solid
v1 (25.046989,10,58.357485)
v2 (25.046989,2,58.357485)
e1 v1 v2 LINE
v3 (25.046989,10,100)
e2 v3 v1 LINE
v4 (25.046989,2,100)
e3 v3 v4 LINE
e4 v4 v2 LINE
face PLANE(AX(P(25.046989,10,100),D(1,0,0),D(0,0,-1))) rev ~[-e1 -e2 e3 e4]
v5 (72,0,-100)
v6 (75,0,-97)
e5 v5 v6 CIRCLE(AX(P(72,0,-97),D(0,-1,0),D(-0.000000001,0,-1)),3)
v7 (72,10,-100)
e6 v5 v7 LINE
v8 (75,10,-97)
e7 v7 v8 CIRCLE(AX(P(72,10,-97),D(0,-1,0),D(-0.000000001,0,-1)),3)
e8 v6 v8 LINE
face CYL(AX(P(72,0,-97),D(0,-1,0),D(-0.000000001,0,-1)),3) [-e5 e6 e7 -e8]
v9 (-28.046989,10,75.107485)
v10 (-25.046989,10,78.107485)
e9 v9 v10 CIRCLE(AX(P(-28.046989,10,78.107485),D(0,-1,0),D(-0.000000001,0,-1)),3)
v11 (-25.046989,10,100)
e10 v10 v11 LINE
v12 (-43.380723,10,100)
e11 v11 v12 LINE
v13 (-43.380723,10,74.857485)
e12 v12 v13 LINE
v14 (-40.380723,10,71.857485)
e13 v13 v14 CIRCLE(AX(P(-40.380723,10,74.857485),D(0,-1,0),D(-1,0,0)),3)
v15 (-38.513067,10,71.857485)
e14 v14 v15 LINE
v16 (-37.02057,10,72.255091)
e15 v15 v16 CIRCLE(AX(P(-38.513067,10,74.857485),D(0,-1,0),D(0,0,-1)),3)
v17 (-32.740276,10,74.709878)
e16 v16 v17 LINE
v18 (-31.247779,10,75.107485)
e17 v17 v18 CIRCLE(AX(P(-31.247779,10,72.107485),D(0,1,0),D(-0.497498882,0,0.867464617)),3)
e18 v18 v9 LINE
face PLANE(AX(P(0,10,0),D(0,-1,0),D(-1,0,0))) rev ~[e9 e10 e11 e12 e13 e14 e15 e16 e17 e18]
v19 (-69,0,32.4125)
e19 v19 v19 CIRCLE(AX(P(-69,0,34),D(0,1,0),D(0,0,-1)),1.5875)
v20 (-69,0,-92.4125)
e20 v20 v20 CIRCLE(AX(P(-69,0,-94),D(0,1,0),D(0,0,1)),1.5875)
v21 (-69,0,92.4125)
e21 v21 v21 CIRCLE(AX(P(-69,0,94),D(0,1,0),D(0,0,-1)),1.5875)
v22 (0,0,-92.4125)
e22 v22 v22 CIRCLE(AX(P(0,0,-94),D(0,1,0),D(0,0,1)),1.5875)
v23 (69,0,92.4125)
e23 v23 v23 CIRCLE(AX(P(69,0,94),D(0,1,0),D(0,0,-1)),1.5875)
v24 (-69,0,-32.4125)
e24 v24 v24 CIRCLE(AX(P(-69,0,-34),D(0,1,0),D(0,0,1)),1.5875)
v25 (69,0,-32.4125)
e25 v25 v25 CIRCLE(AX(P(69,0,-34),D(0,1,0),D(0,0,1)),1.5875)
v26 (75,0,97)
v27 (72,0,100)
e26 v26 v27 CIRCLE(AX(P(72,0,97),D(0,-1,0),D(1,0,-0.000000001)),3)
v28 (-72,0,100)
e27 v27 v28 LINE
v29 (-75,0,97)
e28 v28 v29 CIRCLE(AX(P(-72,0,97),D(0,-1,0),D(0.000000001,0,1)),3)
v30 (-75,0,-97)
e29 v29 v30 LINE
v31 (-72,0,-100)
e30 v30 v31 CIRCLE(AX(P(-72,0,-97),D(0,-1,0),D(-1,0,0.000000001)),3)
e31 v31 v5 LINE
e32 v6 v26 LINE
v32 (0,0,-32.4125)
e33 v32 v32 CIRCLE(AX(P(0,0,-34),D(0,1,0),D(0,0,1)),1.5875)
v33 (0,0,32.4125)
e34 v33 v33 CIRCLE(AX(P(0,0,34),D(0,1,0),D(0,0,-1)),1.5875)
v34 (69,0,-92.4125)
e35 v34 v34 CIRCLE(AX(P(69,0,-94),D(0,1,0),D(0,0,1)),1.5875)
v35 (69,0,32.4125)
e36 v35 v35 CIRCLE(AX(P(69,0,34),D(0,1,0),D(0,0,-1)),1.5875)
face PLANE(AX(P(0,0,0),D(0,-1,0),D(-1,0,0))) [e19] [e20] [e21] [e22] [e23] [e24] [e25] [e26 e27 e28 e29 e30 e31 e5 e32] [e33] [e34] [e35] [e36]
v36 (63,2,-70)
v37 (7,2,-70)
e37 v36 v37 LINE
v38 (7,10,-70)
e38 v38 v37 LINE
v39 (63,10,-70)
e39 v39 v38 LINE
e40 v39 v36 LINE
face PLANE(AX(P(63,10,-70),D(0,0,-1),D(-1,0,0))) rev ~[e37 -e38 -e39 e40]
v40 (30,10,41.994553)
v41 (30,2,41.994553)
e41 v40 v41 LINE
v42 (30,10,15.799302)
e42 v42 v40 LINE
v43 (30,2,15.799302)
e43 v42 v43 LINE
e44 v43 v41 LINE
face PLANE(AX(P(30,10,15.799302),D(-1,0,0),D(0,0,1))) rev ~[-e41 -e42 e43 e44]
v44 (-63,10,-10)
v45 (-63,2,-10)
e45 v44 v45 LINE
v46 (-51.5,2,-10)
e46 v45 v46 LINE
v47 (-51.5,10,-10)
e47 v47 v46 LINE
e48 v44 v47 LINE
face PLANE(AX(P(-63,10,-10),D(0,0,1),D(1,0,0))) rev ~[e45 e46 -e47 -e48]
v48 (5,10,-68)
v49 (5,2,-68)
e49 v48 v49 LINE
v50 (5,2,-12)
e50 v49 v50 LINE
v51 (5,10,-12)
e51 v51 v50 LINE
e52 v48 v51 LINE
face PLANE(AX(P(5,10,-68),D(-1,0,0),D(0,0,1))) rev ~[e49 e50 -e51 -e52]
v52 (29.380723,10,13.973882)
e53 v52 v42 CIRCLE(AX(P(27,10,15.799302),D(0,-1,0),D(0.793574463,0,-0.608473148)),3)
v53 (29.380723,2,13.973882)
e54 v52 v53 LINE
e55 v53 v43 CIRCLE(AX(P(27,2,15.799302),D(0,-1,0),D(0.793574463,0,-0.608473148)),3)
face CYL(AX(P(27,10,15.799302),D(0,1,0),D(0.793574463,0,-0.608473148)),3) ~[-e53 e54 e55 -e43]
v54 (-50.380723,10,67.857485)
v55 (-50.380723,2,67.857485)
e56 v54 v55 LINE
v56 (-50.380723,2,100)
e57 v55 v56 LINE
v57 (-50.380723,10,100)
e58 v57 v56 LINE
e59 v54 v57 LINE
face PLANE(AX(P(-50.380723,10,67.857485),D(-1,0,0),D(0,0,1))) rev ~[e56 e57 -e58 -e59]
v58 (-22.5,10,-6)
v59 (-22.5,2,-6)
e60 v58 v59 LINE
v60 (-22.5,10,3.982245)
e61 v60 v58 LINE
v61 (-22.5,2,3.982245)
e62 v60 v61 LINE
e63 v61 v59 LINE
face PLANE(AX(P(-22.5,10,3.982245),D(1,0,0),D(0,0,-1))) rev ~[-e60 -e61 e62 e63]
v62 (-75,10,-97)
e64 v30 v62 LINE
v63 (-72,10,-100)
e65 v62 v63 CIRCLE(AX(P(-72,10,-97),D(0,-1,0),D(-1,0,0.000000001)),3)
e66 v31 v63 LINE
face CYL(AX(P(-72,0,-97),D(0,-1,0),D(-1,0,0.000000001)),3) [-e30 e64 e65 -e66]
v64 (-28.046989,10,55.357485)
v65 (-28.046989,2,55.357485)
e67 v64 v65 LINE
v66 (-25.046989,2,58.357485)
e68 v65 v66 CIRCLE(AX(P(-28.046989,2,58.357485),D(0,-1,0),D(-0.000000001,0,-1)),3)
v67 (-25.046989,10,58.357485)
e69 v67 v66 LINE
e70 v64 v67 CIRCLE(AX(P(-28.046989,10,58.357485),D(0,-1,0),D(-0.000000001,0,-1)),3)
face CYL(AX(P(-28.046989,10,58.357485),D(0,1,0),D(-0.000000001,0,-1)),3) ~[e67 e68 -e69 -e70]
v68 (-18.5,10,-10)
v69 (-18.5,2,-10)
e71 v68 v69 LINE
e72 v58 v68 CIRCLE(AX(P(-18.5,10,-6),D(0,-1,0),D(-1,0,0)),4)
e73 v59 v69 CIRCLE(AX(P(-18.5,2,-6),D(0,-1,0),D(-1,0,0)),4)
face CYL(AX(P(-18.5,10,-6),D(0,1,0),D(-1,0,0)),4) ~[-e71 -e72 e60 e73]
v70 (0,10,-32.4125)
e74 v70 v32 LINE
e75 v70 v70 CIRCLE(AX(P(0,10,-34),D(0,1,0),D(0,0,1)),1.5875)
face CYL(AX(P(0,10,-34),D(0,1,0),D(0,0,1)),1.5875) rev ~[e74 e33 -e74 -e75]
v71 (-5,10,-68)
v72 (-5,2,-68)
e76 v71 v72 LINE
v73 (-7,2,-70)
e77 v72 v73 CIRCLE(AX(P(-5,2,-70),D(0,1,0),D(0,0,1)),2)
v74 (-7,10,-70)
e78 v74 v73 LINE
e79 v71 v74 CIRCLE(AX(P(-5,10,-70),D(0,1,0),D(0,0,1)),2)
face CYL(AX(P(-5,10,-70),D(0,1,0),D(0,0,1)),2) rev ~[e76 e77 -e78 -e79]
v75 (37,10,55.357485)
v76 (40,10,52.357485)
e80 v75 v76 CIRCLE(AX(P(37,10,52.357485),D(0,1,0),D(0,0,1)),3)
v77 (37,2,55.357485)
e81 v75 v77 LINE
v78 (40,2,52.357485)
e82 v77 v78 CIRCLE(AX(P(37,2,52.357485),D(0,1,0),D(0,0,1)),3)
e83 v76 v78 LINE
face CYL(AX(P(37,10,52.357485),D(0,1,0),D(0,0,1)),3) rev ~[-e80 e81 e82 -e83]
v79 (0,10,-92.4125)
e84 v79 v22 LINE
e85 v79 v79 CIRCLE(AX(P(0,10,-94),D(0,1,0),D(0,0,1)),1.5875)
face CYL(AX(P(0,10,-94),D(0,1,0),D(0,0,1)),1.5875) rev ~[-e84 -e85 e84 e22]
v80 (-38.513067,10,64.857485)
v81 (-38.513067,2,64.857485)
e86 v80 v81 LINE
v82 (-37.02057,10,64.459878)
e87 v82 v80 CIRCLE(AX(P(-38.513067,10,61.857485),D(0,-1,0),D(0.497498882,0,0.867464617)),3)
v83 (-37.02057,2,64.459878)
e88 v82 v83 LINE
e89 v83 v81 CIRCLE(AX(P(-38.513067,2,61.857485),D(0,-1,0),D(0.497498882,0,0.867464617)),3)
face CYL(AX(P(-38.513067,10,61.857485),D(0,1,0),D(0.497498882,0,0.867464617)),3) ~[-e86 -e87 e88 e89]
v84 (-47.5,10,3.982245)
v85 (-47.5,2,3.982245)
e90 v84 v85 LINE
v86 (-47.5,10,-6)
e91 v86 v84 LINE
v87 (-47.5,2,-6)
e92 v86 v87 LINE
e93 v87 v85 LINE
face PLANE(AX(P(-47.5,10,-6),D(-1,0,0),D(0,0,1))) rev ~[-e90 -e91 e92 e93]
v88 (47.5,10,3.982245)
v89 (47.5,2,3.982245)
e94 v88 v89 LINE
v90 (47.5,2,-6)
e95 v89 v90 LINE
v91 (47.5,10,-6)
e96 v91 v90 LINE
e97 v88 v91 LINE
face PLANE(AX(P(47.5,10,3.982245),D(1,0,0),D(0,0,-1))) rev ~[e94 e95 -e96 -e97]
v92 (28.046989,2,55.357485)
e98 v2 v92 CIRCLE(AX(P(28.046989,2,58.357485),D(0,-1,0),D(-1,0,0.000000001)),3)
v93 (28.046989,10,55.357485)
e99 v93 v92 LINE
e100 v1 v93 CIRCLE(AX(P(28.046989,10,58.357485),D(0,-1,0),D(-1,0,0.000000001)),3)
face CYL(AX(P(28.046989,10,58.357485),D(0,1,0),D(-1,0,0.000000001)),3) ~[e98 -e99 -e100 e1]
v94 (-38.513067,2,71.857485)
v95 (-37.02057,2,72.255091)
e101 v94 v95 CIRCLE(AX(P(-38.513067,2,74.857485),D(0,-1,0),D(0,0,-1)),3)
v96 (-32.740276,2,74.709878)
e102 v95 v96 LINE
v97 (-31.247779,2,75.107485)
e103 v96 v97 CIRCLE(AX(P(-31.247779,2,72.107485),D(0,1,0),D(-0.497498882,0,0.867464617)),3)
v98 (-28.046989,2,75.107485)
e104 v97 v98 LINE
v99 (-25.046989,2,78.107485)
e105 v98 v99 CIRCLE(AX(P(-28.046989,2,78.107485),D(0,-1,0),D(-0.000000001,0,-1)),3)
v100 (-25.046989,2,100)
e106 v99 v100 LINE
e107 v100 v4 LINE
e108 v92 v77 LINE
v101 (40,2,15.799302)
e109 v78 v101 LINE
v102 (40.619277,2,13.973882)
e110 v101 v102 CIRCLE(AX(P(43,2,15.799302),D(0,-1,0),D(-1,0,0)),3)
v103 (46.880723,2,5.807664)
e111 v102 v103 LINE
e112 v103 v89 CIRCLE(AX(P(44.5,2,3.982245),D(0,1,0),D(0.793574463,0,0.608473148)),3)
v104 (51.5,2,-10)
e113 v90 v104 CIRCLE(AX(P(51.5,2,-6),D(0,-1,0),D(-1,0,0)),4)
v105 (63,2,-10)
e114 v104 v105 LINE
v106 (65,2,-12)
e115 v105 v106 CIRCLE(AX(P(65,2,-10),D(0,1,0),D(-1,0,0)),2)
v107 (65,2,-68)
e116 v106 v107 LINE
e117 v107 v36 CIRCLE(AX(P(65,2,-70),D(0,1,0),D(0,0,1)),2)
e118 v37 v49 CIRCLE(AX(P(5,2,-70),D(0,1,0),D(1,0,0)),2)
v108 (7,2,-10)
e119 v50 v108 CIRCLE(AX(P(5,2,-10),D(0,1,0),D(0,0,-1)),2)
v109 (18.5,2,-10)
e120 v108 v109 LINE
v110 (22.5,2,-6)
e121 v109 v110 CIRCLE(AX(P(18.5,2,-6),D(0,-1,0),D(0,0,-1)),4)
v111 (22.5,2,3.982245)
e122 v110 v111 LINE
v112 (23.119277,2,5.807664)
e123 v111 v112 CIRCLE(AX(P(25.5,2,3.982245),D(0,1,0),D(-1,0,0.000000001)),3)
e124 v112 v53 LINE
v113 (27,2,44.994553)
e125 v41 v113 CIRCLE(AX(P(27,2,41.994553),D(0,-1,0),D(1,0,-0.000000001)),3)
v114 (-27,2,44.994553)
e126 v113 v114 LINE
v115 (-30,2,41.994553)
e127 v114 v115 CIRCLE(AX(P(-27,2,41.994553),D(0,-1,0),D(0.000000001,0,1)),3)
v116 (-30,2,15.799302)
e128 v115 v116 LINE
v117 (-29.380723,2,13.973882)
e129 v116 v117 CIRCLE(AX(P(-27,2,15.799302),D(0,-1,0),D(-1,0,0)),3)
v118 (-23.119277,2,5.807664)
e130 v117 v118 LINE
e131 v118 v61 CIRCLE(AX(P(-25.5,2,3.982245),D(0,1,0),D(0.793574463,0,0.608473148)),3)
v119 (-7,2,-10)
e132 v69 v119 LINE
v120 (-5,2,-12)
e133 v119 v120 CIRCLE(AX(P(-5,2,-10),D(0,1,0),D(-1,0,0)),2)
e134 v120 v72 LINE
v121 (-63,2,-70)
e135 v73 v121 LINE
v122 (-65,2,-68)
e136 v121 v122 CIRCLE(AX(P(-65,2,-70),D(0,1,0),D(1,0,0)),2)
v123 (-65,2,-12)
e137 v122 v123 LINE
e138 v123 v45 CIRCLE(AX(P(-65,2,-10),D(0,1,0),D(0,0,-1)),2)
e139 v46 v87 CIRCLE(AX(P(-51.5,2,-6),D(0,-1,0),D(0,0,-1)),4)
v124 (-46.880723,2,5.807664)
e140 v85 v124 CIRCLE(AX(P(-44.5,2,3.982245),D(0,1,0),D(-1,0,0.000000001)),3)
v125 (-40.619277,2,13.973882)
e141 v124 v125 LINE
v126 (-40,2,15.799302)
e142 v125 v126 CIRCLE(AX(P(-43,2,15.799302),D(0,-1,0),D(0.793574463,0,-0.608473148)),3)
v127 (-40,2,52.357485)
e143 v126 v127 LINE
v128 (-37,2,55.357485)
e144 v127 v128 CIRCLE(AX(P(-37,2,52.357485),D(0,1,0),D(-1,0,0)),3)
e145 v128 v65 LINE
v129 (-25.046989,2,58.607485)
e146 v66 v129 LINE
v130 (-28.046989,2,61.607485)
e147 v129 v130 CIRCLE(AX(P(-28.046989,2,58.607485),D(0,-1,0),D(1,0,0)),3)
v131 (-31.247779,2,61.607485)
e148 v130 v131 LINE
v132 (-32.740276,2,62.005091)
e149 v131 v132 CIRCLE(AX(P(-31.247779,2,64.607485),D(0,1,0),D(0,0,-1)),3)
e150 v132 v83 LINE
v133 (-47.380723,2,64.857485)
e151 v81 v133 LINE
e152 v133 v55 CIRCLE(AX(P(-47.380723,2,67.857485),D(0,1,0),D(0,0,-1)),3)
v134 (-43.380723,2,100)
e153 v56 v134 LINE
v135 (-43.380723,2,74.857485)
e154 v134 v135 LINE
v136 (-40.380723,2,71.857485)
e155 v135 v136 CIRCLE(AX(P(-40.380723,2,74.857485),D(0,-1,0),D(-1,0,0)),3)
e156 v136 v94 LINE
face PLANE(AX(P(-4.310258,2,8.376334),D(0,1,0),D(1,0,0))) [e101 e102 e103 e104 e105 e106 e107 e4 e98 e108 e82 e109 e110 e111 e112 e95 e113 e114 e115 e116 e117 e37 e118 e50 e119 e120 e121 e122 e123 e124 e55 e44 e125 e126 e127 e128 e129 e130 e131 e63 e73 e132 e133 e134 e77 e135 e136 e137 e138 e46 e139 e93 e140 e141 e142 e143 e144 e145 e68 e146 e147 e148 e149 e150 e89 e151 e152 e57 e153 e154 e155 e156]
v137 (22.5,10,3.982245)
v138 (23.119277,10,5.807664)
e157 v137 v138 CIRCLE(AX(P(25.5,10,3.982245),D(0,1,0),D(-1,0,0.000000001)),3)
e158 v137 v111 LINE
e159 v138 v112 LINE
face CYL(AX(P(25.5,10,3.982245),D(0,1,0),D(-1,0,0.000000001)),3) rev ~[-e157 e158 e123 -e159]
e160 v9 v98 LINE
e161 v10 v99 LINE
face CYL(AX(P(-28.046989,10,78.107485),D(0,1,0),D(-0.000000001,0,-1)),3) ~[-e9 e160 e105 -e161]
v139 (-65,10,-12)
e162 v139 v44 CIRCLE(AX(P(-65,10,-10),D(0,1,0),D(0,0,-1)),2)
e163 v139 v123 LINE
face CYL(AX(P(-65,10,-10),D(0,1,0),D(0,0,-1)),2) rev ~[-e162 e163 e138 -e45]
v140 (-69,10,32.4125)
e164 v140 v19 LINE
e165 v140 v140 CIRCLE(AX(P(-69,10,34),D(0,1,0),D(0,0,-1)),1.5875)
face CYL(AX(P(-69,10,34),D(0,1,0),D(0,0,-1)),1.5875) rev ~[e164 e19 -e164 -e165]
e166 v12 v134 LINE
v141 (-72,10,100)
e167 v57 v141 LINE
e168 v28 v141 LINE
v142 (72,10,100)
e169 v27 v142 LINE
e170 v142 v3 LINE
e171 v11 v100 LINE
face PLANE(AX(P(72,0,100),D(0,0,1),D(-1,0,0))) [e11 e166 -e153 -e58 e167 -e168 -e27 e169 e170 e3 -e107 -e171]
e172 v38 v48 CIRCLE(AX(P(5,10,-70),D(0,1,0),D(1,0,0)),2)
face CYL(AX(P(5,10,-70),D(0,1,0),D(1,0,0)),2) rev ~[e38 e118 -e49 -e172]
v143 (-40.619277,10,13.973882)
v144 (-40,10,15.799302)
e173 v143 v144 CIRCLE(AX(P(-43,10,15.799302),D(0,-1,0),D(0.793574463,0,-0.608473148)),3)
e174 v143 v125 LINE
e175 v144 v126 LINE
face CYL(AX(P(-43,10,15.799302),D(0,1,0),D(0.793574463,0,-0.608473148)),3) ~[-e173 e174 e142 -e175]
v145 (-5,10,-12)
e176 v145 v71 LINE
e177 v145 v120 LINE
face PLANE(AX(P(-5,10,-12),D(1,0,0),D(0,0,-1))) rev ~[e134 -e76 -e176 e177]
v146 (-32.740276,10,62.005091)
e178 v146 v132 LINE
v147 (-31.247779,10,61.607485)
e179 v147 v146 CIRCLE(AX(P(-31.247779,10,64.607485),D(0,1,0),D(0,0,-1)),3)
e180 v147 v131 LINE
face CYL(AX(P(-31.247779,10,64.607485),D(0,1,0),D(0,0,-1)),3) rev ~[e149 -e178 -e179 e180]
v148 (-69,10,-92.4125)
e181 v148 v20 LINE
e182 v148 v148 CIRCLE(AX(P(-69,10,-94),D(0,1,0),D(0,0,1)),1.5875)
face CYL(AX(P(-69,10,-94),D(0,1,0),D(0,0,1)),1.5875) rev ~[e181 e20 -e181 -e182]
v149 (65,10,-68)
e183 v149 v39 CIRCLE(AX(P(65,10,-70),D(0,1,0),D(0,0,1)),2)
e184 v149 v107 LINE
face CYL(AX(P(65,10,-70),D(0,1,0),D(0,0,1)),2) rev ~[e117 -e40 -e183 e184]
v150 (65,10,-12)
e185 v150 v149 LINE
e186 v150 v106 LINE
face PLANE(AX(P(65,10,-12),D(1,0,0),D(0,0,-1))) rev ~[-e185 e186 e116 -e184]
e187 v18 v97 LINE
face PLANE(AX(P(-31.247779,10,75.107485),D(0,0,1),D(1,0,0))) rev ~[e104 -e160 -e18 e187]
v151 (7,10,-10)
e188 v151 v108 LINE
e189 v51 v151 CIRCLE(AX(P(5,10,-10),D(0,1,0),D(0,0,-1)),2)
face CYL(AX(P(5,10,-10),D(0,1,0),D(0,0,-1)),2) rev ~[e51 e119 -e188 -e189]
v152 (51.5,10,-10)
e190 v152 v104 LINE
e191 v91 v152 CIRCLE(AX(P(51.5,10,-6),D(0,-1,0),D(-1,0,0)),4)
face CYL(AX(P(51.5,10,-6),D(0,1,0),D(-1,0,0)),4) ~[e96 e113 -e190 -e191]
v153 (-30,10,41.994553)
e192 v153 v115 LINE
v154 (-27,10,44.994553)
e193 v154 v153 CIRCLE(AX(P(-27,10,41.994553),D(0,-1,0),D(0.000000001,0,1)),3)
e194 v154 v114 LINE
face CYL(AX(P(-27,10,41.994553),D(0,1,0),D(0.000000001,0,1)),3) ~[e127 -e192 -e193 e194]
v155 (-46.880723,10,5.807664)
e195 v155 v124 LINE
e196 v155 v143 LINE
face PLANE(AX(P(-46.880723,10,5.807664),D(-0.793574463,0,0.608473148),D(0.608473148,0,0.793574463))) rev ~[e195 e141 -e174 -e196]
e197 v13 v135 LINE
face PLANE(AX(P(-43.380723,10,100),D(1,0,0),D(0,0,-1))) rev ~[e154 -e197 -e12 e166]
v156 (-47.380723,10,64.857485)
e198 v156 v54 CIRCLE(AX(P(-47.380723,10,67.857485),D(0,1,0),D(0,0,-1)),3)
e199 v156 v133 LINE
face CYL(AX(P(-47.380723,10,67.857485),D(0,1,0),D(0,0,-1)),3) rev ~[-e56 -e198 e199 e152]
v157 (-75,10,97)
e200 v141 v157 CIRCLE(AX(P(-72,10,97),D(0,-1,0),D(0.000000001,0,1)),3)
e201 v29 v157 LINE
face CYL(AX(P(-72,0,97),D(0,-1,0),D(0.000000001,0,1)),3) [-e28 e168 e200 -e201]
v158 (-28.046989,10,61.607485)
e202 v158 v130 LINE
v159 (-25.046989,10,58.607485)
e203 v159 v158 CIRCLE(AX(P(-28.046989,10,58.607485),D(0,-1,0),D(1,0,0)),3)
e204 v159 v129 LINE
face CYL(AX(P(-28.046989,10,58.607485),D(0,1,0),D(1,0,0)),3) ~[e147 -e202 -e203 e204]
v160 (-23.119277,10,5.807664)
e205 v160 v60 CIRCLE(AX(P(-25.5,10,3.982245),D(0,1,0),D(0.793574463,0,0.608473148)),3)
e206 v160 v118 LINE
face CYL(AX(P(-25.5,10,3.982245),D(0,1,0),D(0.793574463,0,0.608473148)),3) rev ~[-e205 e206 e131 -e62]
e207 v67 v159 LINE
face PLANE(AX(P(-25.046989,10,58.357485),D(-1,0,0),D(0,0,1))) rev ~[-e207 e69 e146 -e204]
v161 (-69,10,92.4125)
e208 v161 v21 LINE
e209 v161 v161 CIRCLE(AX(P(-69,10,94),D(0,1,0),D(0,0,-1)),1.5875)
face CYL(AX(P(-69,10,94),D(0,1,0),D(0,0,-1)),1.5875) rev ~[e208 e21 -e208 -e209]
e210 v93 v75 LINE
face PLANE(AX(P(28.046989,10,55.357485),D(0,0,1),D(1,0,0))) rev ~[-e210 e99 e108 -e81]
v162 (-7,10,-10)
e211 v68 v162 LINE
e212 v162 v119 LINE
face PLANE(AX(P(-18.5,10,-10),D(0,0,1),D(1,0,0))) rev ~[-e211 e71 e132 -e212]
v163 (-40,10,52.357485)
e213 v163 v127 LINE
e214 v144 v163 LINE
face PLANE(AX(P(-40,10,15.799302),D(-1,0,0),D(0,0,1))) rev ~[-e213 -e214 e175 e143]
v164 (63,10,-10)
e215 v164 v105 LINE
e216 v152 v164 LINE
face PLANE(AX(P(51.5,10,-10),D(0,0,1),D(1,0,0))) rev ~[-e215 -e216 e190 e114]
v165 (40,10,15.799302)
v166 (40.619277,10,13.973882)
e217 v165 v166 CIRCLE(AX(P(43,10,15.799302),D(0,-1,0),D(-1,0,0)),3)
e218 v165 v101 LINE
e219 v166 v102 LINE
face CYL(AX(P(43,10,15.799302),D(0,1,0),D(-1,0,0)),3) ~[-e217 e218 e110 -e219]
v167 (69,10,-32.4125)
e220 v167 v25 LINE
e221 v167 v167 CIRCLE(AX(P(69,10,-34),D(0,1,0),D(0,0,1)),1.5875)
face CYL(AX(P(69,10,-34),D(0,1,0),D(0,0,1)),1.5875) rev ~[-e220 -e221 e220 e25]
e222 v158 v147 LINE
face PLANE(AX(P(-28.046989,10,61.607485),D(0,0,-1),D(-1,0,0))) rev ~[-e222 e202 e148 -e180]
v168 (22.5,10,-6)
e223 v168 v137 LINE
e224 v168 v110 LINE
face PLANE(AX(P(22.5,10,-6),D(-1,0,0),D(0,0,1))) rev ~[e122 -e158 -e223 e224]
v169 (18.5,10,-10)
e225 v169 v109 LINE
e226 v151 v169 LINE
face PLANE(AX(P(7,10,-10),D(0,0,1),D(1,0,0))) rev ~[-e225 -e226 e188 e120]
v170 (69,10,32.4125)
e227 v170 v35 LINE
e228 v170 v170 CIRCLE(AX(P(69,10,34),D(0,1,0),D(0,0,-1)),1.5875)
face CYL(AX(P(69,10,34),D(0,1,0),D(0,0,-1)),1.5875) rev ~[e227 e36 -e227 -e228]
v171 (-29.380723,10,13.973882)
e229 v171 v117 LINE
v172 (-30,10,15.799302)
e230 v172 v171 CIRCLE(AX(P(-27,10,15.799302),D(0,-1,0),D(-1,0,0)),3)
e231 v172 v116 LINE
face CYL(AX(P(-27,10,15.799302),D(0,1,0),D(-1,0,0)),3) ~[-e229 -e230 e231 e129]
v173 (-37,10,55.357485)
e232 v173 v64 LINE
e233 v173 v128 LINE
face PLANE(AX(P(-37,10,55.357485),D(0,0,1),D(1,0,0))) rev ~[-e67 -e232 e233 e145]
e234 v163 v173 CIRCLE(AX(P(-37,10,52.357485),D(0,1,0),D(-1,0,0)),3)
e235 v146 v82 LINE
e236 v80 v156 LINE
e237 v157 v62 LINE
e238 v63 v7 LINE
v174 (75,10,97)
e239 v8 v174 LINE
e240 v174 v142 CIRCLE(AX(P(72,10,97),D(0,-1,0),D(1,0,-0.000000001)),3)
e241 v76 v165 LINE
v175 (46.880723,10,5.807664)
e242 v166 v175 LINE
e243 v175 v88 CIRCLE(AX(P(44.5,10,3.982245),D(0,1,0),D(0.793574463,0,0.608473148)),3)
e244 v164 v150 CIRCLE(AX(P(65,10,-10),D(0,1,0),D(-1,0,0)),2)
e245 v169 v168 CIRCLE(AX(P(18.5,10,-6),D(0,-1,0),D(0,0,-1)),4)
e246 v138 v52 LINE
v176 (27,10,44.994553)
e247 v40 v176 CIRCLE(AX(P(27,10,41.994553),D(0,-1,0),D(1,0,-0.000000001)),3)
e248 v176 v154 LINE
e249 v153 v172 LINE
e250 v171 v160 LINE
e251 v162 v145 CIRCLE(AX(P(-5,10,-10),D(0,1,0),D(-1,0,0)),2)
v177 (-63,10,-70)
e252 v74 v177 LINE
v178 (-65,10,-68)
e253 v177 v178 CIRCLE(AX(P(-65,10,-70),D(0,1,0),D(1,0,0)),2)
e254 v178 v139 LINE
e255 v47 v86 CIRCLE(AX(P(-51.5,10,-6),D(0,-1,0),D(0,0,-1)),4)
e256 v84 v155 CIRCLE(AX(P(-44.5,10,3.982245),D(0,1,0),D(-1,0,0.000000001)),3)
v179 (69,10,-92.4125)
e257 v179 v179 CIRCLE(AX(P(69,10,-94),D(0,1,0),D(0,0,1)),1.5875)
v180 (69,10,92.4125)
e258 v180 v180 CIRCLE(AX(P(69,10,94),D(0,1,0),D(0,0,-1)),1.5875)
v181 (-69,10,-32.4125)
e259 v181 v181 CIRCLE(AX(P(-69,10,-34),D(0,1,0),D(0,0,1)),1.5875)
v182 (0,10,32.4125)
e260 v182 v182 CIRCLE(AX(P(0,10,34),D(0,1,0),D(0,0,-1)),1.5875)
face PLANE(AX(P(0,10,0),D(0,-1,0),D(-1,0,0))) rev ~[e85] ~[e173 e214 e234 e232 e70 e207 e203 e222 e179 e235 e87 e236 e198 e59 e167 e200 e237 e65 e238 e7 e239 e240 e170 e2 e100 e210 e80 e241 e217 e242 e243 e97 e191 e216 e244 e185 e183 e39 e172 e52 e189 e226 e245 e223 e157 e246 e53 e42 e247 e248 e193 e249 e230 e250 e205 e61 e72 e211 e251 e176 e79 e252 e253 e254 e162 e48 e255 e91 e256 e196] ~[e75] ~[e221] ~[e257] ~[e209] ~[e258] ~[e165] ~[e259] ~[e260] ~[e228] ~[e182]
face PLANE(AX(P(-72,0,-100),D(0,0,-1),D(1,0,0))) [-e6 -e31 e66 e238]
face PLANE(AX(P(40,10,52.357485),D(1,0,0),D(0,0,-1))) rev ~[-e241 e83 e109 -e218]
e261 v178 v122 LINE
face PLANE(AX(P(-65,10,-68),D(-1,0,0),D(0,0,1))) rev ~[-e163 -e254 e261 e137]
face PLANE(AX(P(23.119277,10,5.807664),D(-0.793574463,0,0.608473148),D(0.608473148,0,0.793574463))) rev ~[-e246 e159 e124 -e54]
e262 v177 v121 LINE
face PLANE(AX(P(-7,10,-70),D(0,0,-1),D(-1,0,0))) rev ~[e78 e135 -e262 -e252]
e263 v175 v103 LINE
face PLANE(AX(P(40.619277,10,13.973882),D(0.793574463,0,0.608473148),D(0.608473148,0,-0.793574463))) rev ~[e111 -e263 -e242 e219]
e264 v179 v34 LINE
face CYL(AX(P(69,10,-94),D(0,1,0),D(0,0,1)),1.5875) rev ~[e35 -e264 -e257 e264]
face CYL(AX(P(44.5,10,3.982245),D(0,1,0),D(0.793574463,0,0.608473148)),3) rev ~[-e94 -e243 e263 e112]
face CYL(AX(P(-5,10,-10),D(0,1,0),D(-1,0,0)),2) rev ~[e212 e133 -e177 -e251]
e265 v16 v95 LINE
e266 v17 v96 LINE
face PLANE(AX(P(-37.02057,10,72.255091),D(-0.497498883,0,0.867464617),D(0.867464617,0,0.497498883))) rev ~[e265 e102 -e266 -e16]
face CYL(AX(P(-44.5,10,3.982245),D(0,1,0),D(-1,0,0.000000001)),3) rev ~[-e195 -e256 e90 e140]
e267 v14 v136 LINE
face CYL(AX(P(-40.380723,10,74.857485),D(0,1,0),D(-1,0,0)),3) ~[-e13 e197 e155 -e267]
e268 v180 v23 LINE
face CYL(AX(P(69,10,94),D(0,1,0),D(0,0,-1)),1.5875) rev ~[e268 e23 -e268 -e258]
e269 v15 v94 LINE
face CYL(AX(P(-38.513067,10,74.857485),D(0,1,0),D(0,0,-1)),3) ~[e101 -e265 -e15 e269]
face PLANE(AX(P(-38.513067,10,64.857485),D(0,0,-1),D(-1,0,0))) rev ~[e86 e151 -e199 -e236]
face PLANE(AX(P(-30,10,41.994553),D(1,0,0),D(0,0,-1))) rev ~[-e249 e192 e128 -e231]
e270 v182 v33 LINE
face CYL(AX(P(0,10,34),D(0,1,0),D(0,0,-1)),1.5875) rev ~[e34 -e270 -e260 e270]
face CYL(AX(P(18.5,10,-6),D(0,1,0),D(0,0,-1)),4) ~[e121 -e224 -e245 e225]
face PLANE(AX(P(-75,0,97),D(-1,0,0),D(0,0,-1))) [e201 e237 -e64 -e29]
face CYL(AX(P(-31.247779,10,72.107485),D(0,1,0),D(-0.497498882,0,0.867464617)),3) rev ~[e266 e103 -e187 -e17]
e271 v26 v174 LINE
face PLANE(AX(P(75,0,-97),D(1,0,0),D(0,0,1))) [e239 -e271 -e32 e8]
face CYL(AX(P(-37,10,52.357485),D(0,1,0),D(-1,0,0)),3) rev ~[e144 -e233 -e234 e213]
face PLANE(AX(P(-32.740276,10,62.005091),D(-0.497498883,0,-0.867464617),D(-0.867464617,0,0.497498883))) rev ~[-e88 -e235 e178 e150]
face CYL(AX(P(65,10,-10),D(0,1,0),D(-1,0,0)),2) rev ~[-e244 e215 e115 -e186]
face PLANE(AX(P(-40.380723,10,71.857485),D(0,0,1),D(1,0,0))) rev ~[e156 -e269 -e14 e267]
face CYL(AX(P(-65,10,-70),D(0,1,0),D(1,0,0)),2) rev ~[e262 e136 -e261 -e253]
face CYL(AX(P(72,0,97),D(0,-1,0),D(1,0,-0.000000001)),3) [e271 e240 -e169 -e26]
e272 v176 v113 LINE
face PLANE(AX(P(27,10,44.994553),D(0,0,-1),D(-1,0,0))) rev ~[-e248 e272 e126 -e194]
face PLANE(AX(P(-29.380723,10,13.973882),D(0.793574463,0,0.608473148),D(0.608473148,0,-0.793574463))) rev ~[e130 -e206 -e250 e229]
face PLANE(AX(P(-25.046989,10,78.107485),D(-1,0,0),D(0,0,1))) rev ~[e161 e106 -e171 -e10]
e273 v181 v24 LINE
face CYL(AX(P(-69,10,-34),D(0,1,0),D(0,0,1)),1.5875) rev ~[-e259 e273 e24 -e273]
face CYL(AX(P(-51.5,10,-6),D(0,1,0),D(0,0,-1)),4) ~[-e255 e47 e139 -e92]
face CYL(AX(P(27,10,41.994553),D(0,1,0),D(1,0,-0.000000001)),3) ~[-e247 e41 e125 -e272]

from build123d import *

# Parameters (mm, degrees)
EXTRUDE_1_DEPTH     = 10
CUT_EXTRUDE_1_DEPTH = 8
SKETCH_3_R          = 1.5875
CUT_EXTRUDE_2_DEPTH = 126.39936204


with BuildPart() as part:
    # Эскиз1 → Бобышка-Вытянуть1 (new body)
    with BuildSketch(Plane(origin=(0, 0, 0), x_dir=(1, 0, 0), z_dir=(0, 1, 0))):
        with BuildLine():
            Line((-72, 100), (72, 100))
            ThreePointArc((72, 100), (74.121320344, 99.121320344), (75, 97))
            Line((75, 97), (75, -97))
            ThreePointArc((75, -97), (74.121320344, -99.121320344), (72, -100))
            Line((72, -100), (-72, -100))
            ThreePointArc((-72, -100), (-74.121320344, -99.121320344), (-75, -97))
            Line((-75, -97), (-75, 97))
            ThreePointArc((-75, 97), (-74.121320344, 99.121320344), (-72, 100))
        make_face()
    extrude(amount=EXTRUDE_1_DEPTH)

    # Эскиз2 → Вырез-Вытянуть1 (cut)
    with BuildSketch(Plane(origin=(0, 10, 0), x_dir=(1, 0, 0), z_dir=(0, 1, 0))):
        with BuildLine():
            Line((22.5, 6), (22.5, -3.982244962))
            ThreePointArc((22.5, -3.982244962), (22.659034481, -4.946047285), (23.119276612, -5.807664407))
            Line((23.119276612, -5.807664407), (29.380723388, -13.973882215))
            ThreePointArc((29.380723388, -13.973882215), (29.840965519, -14.835499337), (30, -15.799301661))
            Line((30, -15.799301661), (30, -41.994552887))
            ThreePointArc((30, -41.994552887), (29.121320344, -44.115873231), (27, -44.994552887))
            Line((27, -44.994552887), (-27, -44.994552887))
            ThreePointArc((-27, -44.994552887), (-29.121320344, -44.115873231), (-30, -41.994552887))
            Line((-30, -41.994552887), (-30, -15.799301661))
            ThreePointArc((-30, -15.799301661), (-29.840965519, -14.835499337), (-29.380723388, -13.973882215))
            Line((-29.380723388, -13.973882215), (-23.119276612, -5.807664407))
            ThreePointArc((-23.119276612, -5.807664407), (-22.659034481, -4.946047285), (-22.5, -3.982244962))
            Line((-22.5, -3.982244962), (-22.5, 6))
            ThreePointArc((-22.5, 6), (-21.328427125, 8.828427125), (-18.5, 10))
            Line((-18.5, 10), (-7, 10))
            ThreePointArc((-7, 10), (-3.585786438, 8.585786438), (-5, 12))
            Line((-5, 12), (-5, 68))
            ThreePointArc((-5, 68), (-3.585786438, 71.414213562), (-7, 70))
            Line((-7, 70), (-63, 70))
            ThreePointArc((-63, 70), (-66.414213562, 71.414213562), (-65, 68))
            Line((-65, 68), (-65, 12))
            ThreePointArc((-65, 12), (-66.414213562, 8.585786438), (-63, 10))
            Line((-63, 10), (-51.5, 10))
            ThreePointArc((-51.5, 10), (-48.671572875, 8.828427125), (-47.5, 6))
            Line((-47.5, 6), (-47.5, -3.982244962))
            ThreePointArc((-47.5, -3.982244962), (-47.340965519, -4.946047285), (-46.880723388, -5.807664407))
            Line((-46.880723388, -5.807664407), (-40.619276612, -13.973882215))
            ThreePointArc((-40.619276612, -13.973882215), (-40.159034481, -14.835499337), (-40, -15.799301661))
            Line((-40, -15.799301661), (-40, -52.357484611))
            ThreePointArc((-40, -52.357484611), (-39.121320344, -54.478804954), (-37, -55.357484611))
            Line((-37, -55.357484611), (-28.046989376, -55.357484611))
            ThreePointArc((-28.046989376, -55.357484611), (-25.925669032, -56.236164267), (-25.046989376, -58.357484611))
            Line((-25.046989376, -58.357484611), (-25.046989376, -58.607484611))
            ThreePointArc((-25.046989376, -58.607484611), (-25.925669032, -60.728804954), (-28.046989376, -61.607484611))
            Line((-28.046989376, -61.607484611), (-31.247779241, -61.607484611))
            ThreePointArc((-31.247779241, -61.607484611), (-32.020054596, -61.70858986), (-32.74027589, -62.00509076))
            Line((-32.74027589, -62.00509076), (-37.020569868, -64.459878461))
            ThreePointArc((-37.020569868, -64.459878461), (-37.740791162, -64.756379361), (-38.513066517, -64.857484611))
            Line((-38.513066517, -64.857484611), (-47.380723388, -64.857484611))
            ThreePointArc((-47.380723388, -64.857484611), (-49.502043731, -65.736164267), (-50.380723388, -67.857484611))
            Line((-50.380723388, -67.857484611), (-50.380723388, -100))
            Line((-50.380723388, -100), (-43.380723388, -100))
            Line((-43.380723388, -100), (-43.380723388, -74.857484611))
            ThreePointArc((-43.380723388, -74.857484611), (-42.502043731, -72.736164267), (-40.380723388, -71.857484611))
            Line((-40.380723388, -71.857484611), (-38.513066517, -71.857484611))
            ThreePointArc((-38.513066517, -71.857484611), (-37.740791162, -71.95858986), (-37.020569868, -72.25509076))
            Line((-37.020569868, -72.25509076), (-32.74027589, -74.709878461))
            ThreePointArc((-32.74027589, -74.709878461), (-32.020054596, -75.006379361), (-31.247779241, -75.107484611))
            Line((-31.247779241, -75.107484611), (-28.046989376, -75.107484611))
            ThreePointArc((-28.046989376, -75.107484611), (-25.925669032, -75.986164267), (-25.046989376, -78.107484611))
            Line((-25.046989376, -78.107484611), (-25.046989376, -100))
            Line((-25.046989376, -100), (25.046989376, -100))
            Line((25.046989376, -100), (25.046989376, -78.107484611))
            Line((25.046989376, -78.107484611), (25.046989376, -58.357484611))
            ThreePointArc((25.046989376, -58.357484611), (25.925669032, -56.236164267), (28.046989376, -55.357484611))
            Line((28.046989376, -55.357484611), (37, -55.357484611))
            ThreePointArc((37, -55.357484611), (39.121320344, -54.478804954), (40, -52.357484611))
            Line((40, -52.357484611), (40, -15.799301661))
            ThreePointArc((40, -15.799301661), (40.159034481, -14.835499337), (40.619276612, -13.973882215))
            Line((40.619276612, -13.973882215), (46.880723388, -5.807664407))
            ThreePointArc((46.880723388, -5.807664407), (47.340965519, -4.946047285), (47.5, -3.982244962))
            Line((47.5, -3.982244962), (47.5, 6))
            ThreePointArc((47.5, 6), (48.671572875, 8.828427125), (51.5, 10))
            Line((51.5, 10), (63, 10))
            ThreePointArc((63, 10), (66.414213562, 8.585786438), (65, 12))
            Line((65, 12), (65, 68))
            ThreePointArc((65, 68), (66.414213562, 71.414213562), (63, 70))
            Line((63, 70), (7, 70))
            ThreePointArc((7, 70), (3.585786438, 71.414213562), (5, 68))
            Line((5, 68), (5, 12))
            ThreePointArc((5, 12), (3.585786438, 8.585786438), (7, 10))
            Line((7, 10), (18.5, 10))
            ThreePointArc((18.5, 10), (21.328427125, 8.828427125), (22.5, 6))
        make_face()
    extrude(amount=-CUT_EXTRUDE_1_DEPTH, mode=Mode.SUBTRACT)

    # Эскиз3 → Вырез-Вытянуть2 (cut, through all)
    with BuildSketch(Plane(origin=(0, 10, 0), x_dir=(1, 0, 0), z_dir=(0, 1, 0))):
        with Locations(Location((-69, 94, 0), (0, 0, 270))):
            Circle(SKETCH_3_R)
        with Locations(Location((0, 94, 0), (0, 0, 270))):
            Circle(SKETCH_3_R)
        with Locations(Location((69, 94, 0), (0, 0, 270))):
            Circle(SKETCH_3_R)
        with Locations(Location((-69, -34, 0), (0, 0, 90))):
            Circle(SKETCH_3_R)
        with Locations(Location((69, -34, 0), (0, 0, 90))):
            Circle(SKETCH_3_R)
        with Locations(Location((0, -34, 0), (0, 0, 90))):
            Circle(SKETCH_3_R)
        with Locations(Location((69, -94, 0), (0, 0, 90))):
            Circle(SKETCH_3_R)
        with Locations(Location((-69, -94, 0), (0, 0, 90))):
            Circle(SKETCH_3_R)
        with Locations(Location((0, 34, 0), (0, 0, 270))):
            Circle(SKETCH_3_R)
        with Locations(Location((69, 34, 0), (0, 0, 270))):
            Circle(SKETCH_3_R)
        with Locations(Location((-69, 34, 0), (0, 0, 270))):
            Circle(SKETCH_3_R)
    extrude(amount=-CUT_EXTRUDE_2_DEPTH, mode=Mode.SUBTRACT)


solid = part.part
